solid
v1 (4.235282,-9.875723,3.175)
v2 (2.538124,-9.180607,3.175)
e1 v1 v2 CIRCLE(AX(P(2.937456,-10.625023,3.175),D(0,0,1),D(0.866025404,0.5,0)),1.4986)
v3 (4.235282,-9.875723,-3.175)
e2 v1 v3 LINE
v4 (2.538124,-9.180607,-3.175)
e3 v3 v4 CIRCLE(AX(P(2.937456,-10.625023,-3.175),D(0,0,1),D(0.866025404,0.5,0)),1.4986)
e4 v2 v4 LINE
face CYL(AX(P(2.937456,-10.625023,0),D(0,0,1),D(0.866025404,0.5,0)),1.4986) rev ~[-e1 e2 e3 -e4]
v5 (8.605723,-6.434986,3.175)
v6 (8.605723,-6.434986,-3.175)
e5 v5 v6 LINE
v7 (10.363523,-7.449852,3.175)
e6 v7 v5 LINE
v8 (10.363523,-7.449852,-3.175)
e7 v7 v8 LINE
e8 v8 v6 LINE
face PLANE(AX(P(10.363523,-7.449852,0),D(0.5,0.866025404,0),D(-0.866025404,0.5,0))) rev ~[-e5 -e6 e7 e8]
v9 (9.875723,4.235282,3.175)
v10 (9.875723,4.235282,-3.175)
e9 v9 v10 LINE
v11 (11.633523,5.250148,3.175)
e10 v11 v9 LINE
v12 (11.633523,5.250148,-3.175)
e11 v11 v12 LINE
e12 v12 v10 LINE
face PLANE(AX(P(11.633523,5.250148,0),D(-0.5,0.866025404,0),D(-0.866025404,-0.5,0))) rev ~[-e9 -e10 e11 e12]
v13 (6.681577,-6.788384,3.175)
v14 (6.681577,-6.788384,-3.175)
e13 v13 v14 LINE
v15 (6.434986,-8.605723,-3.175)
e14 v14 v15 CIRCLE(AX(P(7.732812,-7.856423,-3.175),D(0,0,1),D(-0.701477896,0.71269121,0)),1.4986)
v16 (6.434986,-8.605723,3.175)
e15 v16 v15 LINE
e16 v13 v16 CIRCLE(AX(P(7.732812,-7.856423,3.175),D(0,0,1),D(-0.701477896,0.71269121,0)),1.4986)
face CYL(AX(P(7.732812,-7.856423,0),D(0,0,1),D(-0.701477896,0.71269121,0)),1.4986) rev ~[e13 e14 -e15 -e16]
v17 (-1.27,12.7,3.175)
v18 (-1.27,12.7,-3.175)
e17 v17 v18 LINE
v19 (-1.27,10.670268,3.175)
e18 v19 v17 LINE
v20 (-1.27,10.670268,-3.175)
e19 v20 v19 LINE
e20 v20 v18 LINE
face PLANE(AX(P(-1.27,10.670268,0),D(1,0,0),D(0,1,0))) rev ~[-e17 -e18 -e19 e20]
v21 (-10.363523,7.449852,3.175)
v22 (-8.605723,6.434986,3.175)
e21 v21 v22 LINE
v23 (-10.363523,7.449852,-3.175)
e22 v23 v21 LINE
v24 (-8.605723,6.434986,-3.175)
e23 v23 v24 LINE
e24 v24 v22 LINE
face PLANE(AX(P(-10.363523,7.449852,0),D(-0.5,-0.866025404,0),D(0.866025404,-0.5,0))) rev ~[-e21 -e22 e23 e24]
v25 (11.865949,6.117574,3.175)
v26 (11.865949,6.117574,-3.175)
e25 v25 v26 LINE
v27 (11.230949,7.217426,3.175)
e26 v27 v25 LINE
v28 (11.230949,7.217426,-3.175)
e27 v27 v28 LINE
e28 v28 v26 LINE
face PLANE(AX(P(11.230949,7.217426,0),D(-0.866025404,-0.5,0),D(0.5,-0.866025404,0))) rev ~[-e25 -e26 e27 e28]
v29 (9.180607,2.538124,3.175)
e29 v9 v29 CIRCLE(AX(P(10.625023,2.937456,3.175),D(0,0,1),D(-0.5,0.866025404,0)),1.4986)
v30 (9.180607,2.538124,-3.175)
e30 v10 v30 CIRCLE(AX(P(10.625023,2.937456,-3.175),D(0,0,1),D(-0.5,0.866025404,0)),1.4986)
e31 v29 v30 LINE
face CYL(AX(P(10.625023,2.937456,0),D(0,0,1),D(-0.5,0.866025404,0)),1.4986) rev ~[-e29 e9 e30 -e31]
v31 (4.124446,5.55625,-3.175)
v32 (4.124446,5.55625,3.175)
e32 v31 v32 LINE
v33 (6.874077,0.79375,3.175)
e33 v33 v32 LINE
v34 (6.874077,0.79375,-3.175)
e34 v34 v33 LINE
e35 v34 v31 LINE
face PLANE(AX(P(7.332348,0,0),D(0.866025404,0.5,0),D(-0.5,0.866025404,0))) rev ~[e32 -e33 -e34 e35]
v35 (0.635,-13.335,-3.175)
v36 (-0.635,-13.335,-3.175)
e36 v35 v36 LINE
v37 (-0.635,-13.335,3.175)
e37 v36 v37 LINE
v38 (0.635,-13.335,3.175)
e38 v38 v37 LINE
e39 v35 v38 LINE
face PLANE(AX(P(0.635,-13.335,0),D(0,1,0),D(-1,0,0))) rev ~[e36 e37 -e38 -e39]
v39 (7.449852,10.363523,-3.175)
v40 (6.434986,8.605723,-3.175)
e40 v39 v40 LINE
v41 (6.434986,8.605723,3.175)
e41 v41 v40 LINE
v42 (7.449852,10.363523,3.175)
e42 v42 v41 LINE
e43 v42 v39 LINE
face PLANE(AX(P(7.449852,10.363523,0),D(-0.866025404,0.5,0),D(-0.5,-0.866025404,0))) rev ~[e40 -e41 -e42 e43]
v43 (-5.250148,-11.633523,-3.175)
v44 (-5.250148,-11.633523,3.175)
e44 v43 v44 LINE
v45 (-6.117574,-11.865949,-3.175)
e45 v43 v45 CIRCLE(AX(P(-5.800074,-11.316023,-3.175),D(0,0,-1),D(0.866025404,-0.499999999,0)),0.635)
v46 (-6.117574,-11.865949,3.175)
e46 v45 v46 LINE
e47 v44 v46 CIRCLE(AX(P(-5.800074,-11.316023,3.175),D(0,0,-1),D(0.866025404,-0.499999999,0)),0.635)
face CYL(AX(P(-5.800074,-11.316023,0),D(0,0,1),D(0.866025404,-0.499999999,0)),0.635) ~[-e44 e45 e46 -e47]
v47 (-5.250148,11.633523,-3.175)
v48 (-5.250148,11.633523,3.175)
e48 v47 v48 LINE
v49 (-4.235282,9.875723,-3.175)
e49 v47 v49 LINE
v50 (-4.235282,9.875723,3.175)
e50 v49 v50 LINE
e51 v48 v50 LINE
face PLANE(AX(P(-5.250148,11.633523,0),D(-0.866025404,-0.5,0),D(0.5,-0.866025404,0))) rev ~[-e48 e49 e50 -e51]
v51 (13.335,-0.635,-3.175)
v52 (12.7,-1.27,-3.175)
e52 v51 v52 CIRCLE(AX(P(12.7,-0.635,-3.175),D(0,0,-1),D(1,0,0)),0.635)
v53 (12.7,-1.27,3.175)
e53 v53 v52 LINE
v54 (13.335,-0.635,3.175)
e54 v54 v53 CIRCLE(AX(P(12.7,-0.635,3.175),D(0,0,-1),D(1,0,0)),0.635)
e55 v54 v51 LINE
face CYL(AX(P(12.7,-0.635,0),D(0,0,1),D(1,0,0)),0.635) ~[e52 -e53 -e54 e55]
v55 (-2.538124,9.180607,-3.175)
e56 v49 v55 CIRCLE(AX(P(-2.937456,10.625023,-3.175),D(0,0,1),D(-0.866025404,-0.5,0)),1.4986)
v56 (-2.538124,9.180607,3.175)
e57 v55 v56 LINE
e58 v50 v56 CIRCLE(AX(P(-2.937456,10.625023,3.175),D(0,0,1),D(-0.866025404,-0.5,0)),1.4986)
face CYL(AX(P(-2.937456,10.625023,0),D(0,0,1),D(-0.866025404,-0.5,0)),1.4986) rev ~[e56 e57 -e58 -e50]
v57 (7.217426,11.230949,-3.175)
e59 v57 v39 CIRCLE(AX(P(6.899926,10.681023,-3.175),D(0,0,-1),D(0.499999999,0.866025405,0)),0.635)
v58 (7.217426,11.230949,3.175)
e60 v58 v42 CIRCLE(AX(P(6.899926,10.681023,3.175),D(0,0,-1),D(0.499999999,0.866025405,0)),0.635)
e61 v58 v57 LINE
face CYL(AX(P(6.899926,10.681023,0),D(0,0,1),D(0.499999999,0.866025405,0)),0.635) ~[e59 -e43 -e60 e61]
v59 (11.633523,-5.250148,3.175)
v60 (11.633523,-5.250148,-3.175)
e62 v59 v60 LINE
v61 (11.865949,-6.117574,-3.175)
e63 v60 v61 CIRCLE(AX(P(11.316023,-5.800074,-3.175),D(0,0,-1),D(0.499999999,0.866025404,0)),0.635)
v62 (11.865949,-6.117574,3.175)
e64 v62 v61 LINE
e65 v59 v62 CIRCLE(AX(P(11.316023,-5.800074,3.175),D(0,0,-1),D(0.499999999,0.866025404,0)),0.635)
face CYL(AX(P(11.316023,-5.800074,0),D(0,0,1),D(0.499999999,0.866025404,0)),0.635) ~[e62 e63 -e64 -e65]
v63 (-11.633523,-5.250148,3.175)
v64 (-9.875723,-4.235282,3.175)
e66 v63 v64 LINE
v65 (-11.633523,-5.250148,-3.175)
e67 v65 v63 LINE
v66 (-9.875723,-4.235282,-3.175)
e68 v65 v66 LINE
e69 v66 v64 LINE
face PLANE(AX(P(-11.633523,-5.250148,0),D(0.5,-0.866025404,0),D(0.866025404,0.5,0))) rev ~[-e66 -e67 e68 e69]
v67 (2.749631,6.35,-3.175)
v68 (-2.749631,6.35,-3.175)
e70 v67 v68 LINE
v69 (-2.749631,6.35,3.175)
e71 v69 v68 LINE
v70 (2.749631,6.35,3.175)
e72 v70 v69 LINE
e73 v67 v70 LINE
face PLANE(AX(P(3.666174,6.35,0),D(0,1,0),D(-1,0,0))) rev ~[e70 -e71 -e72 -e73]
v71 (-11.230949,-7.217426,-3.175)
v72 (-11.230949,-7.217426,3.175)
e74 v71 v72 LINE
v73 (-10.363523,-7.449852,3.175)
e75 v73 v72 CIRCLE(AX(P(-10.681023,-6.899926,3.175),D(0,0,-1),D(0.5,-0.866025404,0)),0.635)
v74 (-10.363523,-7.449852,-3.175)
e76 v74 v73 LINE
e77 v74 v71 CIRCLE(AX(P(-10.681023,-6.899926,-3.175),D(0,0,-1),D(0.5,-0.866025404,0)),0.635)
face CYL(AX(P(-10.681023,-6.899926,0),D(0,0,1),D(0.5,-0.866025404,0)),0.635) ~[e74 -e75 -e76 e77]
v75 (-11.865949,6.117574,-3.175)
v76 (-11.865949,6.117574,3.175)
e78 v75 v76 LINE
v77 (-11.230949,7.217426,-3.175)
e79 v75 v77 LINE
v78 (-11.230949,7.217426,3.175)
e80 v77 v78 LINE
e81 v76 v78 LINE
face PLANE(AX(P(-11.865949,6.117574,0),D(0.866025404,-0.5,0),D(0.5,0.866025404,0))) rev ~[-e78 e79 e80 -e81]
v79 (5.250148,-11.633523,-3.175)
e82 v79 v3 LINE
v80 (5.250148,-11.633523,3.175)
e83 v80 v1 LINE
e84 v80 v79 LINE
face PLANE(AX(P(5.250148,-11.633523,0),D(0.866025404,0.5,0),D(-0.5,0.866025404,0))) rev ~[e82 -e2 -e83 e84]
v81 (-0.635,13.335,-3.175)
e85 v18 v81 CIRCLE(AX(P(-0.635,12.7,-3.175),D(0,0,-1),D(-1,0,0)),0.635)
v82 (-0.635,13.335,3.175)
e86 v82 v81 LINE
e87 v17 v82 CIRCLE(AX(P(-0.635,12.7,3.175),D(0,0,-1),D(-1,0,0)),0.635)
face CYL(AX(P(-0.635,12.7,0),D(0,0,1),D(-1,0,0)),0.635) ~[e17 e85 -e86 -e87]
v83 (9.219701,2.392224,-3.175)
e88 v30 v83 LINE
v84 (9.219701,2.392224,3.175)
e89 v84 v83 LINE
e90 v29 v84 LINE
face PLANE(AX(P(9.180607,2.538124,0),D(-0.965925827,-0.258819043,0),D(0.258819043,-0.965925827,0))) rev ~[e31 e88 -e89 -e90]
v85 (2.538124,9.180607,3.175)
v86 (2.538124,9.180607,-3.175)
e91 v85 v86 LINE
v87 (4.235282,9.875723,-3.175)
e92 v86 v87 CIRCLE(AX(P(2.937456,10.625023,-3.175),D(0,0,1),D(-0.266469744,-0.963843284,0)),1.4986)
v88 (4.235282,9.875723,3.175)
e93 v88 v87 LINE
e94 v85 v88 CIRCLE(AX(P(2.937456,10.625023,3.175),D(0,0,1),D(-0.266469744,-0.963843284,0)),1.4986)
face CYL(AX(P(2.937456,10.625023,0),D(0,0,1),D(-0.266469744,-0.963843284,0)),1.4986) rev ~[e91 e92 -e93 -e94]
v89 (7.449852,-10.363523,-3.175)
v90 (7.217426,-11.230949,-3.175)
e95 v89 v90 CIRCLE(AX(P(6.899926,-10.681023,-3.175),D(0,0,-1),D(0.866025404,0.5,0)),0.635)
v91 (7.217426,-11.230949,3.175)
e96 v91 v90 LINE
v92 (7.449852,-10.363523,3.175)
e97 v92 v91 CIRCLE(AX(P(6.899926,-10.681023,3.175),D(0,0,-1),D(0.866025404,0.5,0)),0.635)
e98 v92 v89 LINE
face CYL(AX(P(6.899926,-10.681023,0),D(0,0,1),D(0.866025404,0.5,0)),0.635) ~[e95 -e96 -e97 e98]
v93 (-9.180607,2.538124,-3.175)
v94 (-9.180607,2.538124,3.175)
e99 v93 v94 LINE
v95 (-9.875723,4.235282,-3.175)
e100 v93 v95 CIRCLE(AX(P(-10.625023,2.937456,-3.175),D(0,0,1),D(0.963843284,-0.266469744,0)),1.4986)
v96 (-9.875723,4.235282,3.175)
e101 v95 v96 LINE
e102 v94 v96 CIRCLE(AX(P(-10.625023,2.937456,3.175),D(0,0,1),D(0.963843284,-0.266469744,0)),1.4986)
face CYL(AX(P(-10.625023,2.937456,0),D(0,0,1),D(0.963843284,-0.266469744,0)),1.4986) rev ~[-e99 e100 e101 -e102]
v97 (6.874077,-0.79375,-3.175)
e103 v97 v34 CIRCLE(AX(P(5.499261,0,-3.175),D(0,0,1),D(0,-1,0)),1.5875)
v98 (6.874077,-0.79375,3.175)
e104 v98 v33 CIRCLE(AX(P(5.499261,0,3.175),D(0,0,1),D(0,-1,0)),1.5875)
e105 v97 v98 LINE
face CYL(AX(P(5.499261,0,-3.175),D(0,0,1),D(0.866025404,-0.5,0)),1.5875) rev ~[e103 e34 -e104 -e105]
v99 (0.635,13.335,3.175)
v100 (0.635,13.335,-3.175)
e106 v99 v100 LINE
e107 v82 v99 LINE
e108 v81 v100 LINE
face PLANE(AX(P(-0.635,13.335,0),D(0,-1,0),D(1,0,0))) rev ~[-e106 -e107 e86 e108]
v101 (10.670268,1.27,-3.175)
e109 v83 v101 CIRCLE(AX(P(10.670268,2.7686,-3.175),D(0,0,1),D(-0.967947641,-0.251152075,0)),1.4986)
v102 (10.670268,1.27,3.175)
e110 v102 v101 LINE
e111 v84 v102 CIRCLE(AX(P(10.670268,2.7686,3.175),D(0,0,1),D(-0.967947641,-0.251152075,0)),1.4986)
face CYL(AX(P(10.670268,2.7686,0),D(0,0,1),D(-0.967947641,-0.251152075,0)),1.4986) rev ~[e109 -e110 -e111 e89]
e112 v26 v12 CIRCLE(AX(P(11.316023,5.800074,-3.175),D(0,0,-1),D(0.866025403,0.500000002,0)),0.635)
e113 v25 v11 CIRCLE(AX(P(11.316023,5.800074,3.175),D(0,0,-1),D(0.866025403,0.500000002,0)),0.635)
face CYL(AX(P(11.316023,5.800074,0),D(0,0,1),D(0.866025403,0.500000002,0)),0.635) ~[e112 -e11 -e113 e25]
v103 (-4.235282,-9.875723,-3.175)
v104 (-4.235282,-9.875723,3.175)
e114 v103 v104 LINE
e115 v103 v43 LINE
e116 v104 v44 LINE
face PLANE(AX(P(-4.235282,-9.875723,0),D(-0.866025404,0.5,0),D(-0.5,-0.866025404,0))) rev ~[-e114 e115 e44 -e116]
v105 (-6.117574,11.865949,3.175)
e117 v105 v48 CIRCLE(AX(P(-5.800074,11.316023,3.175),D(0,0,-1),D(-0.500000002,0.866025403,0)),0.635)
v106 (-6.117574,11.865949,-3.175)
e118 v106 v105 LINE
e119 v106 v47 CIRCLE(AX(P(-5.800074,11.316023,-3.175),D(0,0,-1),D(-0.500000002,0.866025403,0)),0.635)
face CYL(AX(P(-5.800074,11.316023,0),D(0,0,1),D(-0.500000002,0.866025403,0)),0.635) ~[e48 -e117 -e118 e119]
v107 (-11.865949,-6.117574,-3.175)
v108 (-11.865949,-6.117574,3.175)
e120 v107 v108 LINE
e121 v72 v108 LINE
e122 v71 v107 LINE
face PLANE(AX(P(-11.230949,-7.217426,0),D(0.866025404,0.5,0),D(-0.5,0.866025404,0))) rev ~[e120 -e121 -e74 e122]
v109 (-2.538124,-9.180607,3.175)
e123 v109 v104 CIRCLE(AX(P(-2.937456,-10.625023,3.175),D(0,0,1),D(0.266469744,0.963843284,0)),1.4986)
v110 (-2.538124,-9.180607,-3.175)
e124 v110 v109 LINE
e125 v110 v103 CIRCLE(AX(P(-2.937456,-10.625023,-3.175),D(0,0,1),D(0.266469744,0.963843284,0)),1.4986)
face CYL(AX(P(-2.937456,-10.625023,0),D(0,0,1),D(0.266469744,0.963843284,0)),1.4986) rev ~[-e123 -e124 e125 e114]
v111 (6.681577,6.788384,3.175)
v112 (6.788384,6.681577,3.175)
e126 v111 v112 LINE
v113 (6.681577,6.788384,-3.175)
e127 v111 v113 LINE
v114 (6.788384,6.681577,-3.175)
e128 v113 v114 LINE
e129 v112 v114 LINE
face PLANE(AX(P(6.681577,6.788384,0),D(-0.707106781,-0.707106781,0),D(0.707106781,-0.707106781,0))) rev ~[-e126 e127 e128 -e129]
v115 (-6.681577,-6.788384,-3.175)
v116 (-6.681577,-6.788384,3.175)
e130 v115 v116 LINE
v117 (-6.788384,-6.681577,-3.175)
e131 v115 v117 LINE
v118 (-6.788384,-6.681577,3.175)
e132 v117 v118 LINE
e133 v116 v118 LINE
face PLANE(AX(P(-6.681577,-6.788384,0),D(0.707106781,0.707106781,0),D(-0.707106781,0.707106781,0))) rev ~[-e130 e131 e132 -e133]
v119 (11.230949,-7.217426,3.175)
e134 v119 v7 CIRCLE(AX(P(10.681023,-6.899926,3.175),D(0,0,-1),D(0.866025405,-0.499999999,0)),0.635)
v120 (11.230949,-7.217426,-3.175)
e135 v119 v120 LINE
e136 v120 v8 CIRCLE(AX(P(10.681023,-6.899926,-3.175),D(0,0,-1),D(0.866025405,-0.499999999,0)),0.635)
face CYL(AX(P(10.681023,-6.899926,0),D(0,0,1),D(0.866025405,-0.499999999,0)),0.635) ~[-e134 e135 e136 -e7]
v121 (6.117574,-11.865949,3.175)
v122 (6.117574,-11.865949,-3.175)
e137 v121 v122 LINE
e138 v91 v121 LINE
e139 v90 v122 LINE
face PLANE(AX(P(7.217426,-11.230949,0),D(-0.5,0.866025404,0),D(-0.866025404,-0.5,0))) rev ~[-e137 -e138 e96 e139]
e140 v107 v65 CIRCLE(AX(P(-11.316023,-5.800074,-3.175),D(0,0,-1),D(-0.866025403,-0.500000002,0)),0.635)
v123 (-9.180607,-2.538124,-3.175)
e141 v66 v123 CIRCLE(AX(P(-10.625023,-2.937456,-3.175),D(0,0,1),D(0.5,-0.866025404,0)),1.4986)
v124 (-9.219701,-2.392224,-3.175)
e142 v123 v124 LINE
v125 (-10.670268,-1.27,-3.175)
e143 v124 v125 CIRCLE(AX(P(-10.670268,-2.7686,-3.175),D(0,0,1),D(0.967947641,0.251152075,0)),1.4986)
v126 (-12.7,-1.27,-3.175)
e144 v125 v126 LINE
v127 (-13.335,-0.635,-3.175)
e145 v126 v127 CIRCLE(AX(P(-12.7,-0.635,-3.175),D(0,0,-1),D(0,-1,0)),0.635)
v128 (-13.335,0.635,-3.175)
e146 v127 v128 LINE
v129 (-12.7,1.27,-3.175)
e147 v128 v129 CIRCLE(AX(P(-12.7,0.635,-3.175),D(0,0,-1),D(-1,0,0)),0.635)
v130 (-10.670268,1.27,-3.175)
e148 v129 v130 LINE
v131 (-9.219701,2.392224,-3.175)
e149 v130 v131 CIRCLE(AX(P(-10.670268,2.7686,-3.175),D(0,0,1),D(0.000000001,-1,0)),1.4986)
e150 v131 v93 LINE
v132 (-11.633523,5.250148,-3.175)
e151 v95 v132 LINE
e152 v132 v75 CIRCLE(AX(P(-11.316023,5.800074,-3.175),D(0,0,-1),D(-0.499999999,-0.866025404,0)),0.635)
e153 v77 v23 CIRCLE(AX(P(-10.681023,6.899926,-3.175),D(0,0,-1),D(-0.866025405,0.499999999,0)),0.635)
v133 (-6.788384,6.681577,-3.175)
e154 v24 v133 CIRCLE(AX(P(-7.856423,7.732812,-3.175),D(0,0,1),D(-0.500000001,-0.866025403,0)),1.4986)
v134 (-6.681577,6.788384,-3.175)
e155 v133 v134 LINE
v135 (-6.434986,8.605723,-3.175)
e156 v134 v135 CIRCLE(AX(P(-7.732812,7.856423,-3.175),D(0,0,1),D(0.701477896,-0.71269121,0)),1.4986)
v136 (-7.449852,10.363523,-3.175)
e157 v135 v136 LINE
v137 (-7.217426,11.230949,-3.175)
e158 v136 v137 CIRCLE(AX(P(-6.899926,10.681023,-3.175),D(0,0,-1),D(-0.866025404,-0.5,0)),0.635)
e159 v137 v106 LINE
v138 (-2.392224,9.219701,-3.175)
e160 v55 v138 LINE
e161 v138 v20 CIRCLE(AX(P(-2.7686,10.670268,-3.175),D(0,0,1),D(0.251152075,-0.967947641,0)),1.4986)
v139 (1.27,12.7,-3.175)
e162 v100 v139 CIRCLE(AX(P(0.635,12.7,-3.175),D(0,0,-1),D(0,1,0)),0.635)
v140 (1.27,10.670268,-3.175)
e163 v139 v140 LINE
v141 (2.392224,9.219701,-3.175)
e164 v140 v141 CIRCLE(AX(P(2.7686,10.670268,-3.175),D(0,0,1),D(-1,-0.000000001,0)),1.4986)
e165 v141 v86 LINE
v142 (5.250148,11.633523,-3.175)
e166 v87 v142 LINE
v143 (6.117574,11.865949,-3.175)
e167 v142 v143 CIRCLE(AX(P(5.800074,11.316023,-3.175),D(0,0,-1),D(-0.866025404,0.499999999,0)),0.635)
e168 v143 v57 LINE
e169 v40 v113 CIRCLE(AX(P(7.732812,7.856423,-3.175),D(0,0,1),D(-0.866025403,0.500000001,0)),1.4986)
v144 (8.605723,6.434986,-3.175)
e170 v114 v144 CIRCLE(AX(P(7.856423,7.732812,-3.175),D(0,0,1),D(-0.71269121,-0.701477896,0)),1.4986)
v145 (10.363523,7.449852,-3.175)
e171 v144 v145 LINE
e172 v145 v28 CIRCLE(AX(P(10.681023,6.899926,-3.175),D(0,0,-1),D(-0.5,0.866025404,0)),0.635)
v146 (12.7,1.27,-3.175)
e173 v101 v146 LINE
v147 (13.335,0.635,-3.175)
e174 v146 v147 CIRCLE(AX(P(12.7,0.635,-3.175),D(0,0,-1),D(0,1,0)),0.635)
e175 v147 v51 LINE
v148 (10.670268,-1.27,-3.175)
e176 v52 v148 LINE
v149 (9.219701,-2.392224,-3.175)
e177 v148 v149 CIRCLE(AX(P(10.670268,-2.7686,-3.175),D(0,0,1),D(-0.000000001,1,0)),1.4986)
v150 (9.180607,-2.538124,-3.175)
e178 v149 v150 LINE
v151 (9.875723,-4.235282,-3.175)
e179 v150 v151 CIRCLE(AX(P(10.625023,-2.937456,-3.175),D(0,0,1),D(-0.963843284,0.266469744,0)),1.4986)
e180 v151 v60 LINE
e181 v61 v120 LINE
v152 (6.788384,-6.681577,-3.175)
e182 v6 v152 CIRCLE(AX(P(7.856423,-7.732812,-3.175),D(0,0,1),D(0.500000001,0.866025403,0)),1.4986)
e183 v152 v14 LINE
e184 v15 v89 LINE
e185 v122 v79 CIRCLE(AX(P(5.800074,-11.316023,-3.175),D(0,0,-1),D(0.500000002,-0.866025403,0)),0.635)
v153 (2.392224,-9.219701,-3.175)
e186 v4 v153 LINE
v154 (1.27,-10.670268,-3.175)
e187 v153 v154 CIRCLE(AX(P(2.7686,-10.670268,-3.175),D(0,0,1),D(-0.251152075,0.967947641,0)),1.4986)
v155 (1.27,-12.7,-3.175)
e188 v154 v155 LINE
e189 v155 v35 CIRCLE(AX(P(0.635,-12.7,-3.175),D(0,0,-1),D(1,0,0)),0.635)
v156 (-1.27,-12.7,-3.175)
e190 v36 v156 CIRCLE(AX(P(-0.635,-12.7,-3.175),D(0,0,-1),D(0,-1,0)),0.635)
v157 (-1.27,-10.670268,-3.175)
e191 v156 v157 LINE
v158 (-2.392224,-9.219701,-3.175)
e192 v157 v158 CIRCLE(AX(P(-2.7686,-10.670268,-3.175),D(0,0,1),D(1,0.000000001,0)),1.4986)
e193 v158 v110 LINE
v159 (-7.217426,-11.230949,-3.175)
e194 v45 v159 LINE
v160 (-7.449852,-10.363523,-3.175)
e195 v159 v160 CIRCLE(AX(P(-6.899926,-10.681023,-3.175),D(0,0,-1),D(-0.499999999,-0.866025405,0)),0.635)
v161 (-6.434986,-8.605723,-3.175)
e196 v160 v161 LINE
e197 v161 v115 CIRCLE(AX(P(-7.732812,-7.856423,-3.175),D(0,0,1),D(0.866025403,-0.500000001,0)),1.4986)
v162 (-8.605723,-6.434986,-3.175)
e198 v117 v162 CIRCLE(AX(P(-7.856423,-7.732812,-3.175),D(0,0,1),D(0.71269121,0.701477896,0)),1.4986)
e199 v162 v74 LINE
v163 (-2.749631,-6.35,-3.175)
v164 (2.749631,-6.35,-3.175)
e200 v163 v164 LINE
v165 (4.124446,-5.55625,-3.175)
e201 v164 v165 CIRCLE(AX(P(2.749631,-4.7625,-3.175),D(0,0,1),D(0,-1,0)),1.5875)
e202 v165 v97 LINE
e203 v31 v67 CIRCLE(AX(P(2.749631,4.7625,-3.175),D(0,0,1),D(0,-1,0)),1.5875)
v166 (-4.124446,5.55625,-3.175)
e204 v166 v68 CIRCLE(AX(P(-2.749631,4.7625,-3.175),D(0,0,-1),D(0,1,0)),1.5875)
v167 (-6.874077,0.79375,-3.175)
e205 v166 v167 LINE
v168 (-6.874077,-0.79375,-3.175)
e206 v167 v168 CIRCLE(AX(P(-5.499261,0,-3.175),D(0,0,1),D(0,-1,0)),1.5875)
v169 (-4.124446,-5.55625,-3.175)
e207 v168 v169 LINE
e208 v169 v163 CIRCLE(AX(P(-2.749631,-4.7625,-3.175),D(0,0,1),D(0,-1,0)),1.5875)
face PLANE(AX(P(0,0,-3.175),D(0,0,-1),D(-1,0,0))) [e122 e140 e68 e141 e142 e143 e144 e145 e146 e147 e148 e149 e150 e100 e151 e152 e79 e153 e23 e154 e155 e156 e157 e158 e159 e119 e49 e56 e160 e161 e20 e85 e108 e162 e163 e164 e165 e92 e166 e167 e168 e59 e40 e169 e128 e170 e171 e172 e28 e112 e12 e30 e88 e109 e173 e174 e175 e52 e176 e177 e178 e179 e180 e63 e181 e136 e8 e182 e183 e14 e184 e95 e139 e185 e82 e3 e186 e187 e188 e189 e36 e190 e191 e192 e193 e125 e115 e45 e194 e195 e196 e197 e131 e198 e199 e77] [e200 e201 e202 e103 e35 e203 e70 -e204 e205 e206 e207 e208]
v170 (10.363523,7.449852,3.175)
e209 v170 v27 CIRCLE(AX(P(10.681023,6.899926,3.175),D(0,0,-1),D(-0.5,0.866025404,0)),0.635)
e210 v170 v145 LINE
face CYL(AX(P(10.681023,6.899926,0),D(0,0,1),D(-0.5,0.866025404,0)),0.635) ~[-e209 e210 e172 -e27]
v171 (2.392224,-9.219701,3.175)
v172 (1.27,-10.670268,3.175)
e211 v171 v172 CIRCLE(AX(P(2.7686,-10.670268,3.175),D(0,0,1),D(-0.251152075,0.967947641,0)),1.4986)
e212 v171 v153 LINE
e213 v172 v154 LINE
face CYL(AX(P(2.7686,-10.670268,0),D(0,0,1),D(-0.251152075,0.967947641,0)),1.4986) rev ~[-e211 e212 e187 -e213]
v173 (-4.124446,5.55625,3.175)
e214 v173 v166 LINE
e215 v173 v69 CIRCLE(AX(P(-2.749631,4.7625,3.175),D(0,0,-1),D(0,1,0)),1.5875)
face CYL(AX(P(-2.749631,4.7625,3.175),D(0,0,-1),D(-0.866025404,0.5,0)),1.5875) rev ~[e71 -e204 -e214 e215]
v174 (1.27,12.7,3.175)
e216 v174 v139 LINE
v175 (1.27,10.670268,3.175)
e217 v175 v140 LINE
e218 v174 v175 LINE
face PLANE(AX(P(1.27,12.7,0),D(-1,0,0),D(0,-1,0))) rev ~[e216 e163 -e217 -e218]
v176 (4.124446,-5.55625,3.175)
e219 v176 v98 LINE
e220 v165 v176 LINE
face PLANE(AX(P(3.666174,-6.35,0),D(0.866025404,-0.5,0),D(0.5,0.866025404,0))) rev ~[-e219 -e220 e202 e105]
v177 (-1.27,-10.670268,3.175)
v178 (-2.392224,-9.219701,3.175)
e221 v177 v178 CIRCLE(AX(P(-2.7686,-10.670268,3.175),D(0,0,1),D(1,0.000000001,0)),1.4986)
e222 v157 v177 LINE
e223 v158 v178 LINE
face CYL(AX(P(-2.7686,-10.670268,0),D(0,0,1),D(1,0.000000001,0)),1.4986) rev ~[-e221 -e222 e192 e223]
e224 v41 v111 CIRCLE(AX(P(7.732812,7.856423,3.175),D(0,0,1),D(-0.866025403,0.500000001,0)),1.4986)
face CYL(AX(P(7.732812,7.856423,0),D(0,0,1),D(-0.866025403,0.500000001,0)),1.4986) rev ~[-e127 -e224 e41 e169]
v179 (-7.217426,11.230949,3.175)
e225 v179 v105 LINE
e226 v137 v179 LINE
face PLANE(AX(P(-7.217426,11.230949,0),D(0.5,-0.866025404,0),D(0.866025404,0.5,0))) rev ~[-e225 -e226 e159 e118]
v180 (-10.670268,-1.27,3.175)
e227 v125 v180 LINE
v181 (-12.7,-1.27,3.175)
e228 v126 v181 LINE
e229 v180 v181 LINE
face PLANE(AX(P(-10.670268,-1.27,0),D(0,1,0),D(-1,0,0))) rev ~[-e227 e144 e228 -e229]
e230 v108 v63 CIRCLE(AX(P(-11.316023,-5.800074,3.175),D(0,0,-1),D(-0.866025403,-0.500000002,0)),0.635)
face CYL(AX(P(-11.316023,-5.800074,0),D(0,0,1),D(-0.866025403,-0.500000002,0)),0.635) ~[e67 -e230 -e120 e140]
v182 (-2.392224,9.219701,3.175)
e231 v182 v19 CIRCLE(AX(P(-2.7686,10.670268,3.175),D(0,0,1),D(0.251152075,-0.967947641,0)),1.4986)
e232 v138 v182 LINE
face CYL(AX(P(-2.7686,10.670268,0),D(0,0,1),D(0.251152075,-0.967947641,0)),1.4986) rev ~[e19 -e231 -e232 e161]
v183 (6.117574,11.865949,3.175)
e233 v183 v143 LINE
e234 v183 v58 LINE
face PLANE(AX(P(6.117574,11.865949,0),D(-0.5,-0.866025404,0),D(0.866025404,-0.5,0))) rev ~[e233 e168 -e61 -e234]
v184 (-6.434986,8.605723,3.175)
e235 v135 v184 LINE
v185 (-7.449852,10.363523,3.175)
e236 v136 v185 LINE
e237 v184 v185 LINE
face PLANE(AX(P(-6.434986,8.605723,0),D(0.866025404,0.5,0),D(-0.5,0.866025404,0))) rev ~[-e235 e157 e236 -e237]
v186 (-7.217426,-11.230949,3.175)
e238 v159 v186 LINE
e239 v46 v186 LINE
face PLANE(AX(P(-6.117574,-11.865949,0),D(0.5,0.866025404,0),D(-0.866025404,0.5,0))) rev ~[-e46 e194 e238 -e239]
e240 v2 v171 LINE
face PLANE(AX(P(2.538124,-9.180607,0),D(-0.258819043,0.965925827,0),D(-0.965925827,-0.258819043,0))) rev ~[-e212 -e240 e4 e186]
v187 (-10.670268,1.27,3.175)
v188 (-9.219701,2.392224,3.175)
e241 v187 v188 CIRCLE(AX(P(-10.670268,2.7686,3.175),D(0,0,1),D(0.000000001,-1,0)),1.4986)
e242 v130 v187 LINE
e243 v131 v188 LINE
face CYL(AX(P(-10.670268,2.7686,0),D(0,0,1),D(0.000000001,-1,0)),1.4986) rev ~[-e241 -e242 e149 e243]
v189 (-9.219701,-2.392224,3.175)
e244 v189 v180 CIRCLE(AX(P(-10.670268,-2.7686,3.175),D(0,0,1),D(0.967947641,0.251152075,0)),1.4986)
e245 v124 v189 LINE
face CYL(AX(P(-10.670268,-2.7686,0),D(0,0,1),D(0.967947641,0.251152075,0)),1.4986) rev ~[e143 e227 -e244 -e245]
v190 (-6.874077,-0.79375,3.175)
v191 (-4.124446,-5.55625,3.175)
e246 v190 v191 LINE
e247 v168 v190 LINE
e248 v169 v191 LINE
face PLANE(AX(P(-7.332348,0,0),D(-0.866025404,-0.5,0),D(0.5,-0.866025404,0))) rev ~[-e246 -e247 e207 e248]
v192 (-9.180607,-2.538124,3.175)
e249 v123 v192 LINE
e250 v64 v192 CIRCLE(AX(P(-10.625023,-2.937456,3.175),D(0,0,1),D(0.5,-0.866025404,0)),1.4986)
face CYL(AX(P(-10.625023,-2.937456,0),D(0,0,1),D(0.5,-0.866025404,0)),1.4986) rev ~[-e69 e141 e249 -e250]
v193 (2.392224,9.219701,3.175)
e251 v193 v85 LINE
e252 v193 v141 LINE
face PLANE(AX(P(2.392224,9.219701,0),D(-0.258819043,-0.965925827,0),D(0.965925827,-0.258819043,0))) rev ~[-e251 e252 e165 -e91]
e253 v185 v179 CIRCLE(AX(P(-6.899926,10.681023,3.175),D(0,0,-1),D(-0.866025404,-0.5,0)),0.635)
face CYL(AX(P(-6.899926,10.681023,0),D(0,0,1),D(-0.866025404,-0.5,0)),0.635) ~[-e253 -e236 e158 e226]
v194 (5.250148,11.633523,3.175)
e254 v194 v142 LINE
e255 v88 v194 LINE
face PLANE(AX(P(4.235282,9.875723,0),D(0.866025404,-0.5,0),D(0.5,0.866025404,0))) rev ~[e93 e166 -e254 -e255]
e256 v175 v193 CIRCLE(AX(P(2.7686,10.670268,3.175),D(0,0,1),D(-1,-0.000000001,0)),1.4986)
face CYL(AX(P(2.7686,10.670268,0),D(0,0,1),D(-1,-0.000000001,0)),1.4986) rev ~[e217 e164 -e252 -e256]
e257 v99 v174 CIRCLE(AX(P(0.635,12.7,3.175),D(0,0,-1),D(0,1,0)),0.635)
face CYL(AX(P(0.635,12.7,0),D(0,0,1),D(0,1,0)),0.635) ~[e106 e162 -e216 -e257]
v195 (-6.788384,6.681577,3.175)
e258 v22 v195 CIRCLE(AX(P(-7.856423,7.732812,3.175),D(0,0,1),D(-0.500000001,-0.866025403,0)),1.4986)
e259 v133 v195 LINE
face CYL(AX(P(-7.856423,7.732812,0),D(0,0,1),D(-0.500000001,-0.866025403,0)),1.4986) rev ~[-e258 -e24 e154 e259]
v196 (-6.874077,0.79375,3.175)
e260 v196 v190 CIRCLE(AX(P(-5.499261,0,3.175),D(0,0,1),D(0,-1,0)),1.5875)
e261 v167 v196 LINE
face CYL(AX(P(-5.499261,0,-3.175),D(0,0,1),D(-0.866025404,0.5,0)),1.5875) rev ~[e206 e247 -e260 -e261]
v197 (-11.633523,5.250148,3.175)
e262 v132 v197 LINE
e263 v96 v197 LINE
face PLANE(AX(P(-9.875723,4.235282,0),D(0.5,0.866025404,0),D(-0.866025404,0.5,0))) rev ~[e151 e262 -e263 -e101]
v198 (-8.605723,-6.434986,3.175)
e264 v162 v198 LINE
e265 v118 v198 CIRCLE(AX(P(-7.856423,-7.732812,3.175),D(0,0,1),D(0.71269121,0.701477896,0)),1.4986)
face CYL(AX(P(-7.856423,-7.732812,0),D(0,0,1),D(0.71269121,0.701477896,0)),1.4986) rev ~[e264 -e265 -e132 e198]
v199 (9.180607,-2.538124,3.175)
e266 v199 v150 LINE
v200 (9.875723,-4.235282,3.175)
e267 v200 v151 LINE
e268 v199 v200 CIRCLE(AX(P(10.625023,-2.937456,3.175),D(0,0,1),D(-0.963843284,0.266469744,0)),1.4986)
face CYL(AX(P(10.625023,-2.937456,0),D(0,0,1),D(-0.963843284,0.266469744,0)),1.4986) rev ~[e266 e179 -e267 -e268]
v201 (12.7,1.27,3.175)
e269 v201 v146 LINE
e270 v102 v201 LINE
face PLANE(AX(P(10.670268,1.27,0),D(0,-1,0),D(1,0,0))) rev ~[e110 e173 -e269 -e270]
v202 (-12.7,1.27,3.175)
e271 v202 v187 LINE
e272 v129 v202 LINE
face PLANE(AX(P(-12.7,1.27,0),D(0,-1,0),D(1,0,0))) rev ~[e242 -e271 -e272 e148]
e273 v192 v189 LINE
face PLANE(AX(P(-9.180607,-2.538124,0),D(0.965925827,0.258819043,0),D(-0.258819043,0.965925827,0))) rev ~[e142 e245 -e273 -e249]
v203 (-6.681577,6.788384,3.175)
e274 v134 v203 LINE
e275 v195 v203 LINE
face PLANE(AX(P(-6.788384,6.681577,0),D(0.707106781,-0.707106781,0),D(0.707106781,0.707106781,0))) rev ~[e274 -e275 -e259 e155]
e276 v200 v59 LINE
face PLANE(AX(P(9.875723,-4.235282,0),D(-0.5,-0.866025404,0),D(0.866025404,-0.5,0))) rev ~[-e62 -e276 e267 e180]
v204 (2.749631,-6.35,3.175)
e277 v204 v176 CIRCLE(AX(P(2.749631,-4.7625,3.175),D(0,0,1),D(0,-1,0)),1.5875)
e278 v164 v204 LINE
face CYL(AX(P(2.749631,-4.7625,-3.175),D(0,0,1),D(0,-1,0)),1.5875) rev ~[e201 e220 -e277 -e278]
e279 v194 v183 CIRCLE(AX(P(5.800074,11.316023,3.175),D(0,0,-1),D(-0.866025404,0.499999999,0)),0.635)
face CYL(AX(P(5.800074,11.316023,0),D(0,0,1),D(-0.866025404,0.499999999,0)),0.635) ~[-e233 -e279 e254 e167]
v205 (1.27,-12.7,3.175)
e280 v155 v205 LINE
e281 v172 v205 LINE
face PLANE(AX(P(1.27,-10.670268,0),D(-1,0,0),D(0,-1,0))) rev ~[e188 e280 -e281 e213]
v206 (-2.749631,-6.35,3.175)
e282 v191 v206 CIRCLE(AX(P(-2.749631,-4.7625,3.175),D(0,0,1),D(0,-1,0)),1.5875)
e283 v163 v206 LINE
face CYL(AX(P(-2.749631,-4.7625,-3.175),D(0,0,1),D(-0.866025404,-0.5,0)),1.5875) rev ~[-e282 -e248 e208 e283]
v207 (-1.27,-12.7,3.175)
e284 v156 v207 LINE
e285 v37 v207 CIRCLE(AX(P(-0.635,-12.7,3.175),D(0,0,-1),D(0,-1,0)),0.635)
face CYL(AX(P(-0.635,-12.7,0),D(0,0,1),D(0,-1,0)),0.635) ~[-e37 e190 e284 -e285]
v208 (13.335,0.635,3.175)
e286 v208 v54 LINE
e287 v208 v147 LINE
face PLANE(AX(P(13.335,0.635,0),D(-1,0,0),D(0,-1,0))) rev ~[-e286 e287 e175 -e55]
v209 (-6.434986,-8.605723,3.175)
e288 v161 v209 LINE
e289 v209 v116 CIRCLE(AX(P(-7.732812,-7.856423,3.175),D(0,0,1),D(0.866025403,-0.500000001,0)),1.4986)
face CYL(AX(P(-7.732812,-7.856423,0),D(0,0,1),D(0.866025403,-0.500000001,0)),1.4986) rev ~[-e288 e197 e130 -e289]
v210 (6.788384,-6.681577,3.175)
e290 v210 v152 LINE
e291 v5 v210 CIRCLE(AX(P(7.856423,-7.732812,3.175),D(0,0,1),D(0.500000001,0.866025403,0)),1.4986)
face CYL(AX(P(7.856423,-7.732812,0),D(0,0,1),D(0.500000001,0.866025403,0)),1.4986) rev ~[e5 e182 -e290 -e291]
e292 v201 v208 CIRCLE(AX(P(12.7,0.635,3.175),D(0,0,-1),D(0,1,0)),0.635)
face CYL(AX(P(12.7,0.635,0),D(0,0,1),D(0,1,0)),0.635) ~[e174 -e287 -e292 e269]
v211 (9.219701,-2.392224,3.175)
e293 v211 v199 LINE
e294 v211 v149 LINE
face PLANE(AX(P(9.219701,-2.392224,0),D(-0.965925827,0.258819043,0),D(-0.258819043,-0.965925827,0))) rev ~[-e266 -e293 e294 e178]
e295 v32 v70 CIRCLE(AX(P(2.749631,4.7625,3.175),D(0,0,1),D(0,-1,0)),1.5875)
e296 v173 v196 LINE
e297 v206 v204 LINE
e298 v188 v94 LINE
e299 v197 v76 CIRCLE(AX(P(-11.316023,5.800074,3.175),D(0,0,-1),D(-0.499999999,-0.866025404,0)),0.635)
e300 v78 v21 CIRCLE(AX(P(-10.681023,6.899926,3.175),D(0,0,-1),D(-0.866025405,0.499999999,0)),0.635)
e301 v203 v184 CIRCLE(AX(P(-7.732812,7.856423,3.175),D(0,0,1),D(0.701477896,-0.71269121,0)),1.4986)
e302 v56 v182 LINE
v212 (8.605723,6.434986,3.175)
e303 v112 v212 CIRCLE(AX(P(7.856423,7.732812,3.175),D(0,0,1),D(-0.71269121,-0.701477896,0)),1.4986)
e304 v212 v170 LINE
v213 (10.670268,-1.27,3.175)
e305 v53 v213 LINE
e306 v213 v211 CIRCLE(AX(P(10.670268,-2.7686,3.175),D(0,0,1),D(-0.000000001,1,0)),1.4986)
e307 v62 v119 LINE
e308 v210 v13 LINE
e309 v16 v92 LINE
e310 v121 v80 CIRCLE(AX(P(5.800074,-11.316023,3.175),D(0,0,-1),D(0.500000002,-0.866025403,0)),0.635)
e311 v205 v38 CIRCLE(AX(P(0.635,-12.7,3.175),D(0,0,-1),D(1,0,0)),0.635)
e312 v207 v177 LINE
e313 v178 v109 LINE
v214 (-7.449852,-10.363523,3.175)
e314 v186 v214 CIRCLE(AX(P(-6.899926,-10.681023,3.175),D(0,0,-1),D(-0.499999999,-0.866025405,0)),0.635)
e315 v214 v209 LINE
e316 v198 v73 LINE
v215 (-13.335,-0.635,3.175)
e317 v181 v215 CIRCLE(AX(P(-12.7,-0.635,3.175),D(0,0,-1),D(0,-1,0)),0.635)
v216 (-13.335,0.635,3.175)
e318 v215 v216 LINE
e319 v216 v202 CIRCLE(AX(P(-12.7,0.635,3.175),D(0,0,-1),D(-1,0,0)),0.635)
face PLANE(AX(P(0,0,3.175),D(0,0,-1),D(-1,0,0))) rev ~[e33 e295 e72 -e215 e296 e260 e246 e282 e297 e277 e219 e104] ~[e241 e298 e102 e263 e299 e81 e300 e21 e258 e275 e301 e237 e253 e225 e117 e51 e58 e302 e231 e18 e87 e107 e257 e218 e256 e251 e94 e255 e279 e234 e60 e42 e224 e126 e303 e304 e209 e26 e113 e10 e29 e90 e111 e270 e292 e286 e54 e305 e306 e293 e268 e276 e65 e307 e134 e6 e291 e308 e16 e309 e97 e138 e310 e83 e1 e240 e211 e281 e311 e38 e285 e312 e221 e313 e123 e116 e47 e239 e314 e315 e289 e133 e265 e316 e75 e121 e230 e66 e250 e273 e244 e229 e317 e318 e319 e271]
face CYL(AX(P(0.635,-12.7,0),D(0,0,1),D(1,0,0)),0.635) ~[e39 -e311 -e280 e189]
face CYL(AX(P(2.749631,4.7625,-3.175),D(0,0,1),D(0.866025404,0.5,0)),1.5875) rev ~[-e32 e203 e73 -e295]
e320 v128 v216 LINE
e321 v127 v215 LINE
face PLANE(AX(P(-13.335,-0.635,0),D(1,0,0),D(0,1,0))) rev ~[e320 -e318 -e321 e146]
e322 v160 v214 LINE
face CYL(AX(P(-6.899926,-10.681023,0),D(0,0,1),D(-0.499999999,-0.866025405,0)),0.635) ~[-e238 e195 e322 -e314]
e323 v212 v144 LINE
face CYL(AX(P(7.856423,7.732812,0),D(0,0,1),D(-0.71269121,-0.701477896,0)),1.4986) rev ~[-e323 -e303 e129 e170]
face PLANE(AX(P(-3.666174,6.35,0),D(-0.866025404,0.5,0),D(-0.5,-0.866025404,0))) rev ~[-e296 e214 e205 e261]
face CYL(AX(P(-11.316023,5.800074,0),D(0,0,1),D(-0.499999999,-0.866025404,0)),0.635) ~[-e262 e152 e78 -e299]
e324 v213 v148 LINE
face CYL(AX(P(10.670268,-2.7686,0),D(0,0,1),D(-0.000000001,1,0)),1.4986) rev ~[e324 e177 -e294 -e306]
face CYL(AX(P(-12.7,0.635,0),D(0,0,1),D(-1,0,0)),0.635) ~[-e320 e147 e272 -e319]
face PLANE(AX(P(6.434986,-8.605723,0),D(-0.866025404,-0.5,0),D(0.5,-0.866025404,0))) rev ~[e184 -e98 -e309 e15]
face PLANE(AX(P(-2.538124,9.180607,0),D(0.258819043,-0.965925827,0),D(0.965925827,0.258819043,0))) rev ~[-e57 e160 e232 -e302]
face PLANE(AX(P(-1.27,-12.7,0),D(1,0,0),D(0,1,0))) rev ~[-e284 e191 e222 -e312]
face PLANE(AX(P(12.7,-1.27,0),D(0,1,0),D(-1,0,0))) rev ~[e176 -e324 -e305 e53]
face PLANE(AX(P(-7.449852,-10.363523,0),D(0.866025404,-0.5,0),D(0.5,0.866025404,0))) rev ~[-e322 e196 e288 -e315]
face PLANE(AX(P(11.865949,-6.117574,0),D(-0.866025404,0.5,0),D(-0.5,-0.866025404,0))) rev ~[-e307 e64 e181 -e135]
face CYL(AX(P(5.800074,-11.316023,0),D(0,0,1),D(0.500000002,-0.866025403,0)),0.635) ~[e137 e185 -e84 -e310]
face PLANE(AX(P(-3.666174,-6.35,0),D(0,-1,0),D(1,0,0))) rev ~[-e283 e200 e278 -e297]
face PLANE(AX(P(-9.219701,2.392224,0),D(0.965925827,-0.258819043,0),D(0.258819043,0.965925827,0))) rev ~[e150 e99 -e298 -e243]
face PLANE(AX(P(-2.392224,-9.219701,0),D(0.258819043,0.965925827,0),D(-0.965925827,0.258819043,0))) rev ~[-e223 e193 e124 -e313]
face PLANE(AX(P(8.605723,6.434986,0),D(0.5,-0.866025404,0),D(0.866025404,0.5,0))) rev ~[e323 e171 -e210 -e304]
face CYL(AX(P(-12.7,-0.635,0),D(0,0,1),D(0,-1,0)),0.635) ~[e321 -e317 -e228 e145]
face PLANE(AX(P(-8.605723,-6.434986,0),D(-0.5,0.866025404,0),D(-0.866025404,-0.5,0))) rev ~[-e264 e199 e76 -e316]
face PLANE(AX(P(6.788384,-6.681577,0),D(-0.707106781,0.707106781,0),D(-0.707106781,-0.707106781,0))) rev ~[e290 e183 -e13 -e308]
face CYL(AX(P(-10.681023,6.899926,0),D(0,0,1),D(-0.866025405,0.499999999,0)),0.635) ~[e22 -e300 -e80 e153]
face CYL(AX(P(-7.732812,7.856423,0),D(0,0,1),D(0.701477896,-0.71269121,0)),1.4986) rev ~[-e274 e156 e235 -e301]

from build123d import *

# Parameters (mm, degrees)
BOSS_EXTRUDE1_DEPTH = 3.175
FILLET1_R           = 1.5875


with BuildPart() as part:
    # Sketch1 → Boss-Extrude1 (new, symmetric)
    with BuildSketch(Plane.XY):
        with BuildLine():
            Line((-1.27, 10.670267616), (-1.27, 12.7))
            ThreePointArc((-1.27, 12.7), (-1.084012806, 13.149012806), (-0.635, 13.335))
            Line((-0.635, 13.335), (0.635, 13.335))
            ThreePointArc((0.635, 13.335), (1.084012806, 13.149012806), (1.27, 12.7))
            Line((1.27, 12.7), (1.27, 10.670267616))
            ThreePointArc((1.27, 10.670267616), (1.583306834, 9.753271395), (2.392223502, 9.219701281))
            Line((2.392223502, 9.219701281), (2.538124316, 9.180607276))
            ThreePointArc((2.538124316, 9.180607276), (3.505451757, 9.238234215), (4.235281545, 9.875722821))
            Line((4.235281545, 9.875722821), (5.250147737, 11.633522628))
            ThreePointArc((5.250147737, 11.633522628), (5.635723775, 11.929385528), (6.117573869, 11.865948759))
            Line((6.117573869, 11.865948759), (7.217426131, 11.230948759))
            ThreePointArc((7.217426131, 11.230948759), (7.513289031, 10.845372722), (7.449852263, 10.363522628))
            Line((7.449852263, 10.363522628), (6.434986071, 8.605722821))
            ThreePointArc((6.434986071, 8.605722821), (6.247819637, 7.654927381), (6.681576965, 6.788383774))
            Line((6.681576965, 6.788383774), (6.788383774, 6.681576965))
            ThreePointArc((6.788383774, 6.681576965), (7.654927381, 6.247819637), (8.605722821, 6.434986071))
            Line((8.605722821, 6.434986071), (10.363522628, 7.449852263))
            ThreePointArc((10.363522628, 7.449852263), (10.845372722, 7.513289031), (11.230948759, 7.217426131))
            Line((11.230948759, 7.217426131), (11.865948759, 6.117573869))
            ThreePointArc((11.865948759, 6.117573869), (11.929385528, 5.635723775), (11.633522628, 5.250147737))
            Line((11.633522628, 5.250147737), (9.875722821, 4.235281545))
            ThreePointArc((9.875722821, 4.235281545), (9.238234215, 3.505451757), (9.180607276, 2.538124316))
            Line((9.180607276, 2.538124316), (9.219701281, 2.392223502))
            ThreePointArc((9.219701281, 2.392223502), (9.753271395, 1.583306834), (10.670267616, 1.27))
            Line((10.670267616, 1.27), (12.7, 1.27))
            ThreePointArc((12.7, 1.27), (13.149012806, 1.084012806), (13.335, 0.635))
            Line((13.335, 0.635), (13.335, -0.635))
            ThreePointArc((13.335, -0.635), (13.149012806, -1.084012806), (12.7, -1.27))
            Line((12.7, -1.27), (10.670267616, -1.27))
            ThreePointArc((10.670267616, -1.27), (9.753271395, -1.583306834), (9.219701281, -2.392223502))
            Line((9.219701281, -2.392223502), (9.180607276, -2.538124316))
            ThreePointArc((9.180607276, -2.538124316), (9.238234215, -3.505451757), (9.875722821, -4.235281545))
            Line((9.875722821, -4.235281545), (11.633522628, -5.250147737))
            ThreePointArc((11.633522628, -5.250147737), (11.929385528, -5.635723775), (11.865948759, -6.117573869))
            Line((11.865948759, -6.117573869), (11.230948759, -7.217426131))
            ThreePointArc((11.230948759, -7.217426131), (10.845372722, -7.513289031), (10.363522628, -7.449852263))
            Line((10.363522628, -7.449852263), (8.605722821, -6.434986071))
            ThreePointArc((8.605722821, -6.434986071), (7.654927381, -6.247819637), (6.788383774, -6.681576965))
            Line((6.788383774, -6.681576965), (6.681576965, -6.788383774))
            ThreePointArc((6.681576965, -6.788383774), (6.247819637, -7.654927381), (6.434986071, -8.605722821))
            Line((6.434986071, -8.605722821), (7.449852263, -10.363522628))
            ThreePointArc((7.449852263, -10.363522628), (7.513289031, -10.845372722), (7.217426131, -11.230948759))
            Line((7.217426131, -11.230948759), (6.117573869, -11.865948759))
            ThreePointArc((6.117573869, -11.865948759), (5.635723775, -11.929385528), (5.250147737, -11.633522628))
            Line((5.250147737, -11.633522628), (4.235281545, -9.875722821))
            ThreePointArc((4.235281545, -9.875722821), (3.505451757, -9.238234215), (2.538124316, -9.180607276))
            Line((2.538124316, -9.180607276), (2.392223502, -9.219701281))
            ThreePointArc((2.392223502, -9.219701281), (1.583306834, -9.753271395), (1.27, -10.670267616))
            Line((1.27, -10.670267616), (1.27, -12.7))
            ThreePointArc((1.27, -12.7), (1.084012806, -13.149012806), (0.635, -13.335))
            Line((0.635, -13.335), (-0.635, -13.335))
            ThreePointArc((-0.635, -13.335), (-1.084012806, -13.149012806), (-1.27, -12.7))
            Line((-1.27, -12.7), (-1.27, -10.670267616))
            ThreePointArc((-1.27, -10.670267616), (-1.583306834, -9.753271395), (-2.392223502, -9.219701281))
            Line((-2.392223502, -9.219701281), (-2.538124316, -9.180607276))
            ThreePointArc((-2.538124316, -9.180607276), (-3.505451757, -9.238234215), (-4.235281545, -9.875722821))
            Line((-4.235281545, -9.875722821), (-5.250147737, -11.633522628))
            ThreePointArc((-5.250147737, -11.633522628), (-5.635723775, -11.929385528), (-6.117573869, -11.865948759))
            Line((-6.117573869, -11.865948759), (-7.217426131, -11.230948759))
            ThreePointArc((-7.217426131, -11.230948759), (-7.513289031, -10.845372722), (-7.449852263, -10.363522628))
            Line((-7.449852263, -10.363522628), (-6.434986071, -8.605722821))
            ThreePointArc((-6.434986071, -8.605722821), (-6.247819637, -7.654927381), (-6.681576965, -6.788383774))
            Line((-6.681576965, -6.788383774), (-6.788383774, -6.681576965))
            ThreePointArc((-6.788383774, -6.681576965), (-7.654927381, -6.247819637), (-8.605722821, -6.434986071))
            Line((-8.605722821, -6.434986071), (-10.363522628, -7.449852263))
            ThreePointArc((-10.363522628, -7.449852263), (-10.845372722, -7.513289031), (-11.230948759, -7.217426131))
            Line((-11.230948759, -7.217426131), (-11.865948759, -6.117573869))
            ThreePointArc((-11.865948759, -6.117573869), (-11.929385528, -5.635723775), (-11.633522628, -5.250147737))
            Line((-11.633522628, -5.250147737), (-9.875722821, -4.235281545))
            ThreePointArc((-9.875722821, -4.235281545), (-9.238234215, -3.505451757), (-9.180607276, -2.538124316))
            Line((-9.180607276, -2.538124316), (-9.219701281, -2.392223502))
            ThreePointArc((-9.219701281, -2.392223502), (-9.753271395, -1.583306834), (-10.670267616, -1.27))
            Line((-10.670267616, -1.27), (-12.7, -1.27))
            ThreePointArc((-12.7, -1.27), (-13.149012806, -1.084012806), (-13.335, -0.635))
            Line((-13.335, -0.635), (-13.335, 0.635))
            ThreePointArc((-13.335, 0.635), (-13.149012806, 1.084012806), (-12.7, 1.27))
            Line((-12.7, 1.27), (-10.670267616, 1.27))
            ThreePointArc((-10.670267616, 1.27), (-9.753271395, 1.583306834), (-9.219701281, 2.392223502))
            Line((-9.219701281, 2.392223502), (-9.180607276, 2.538124316))
            ThreePointArc((-9.180607276, 2.538124316), (-9.238234215, 3.505451757), (-9.875722821, 4.235281545))
            Line((-9.875722821, 4.235281545), (-11.633522628, 5.250147737))
            ThreePointArc((-11.633522628, 5.250147737), (-11.929385528, 5.635723775), (-11.865948759, 6.117573869))
            Line((-11.865948759, 6.117573869), (-11.230948759, 7.217426131))
            ThreePointArc((-11.230948759, 7.217426131), (-10.845372722, 7.513289031), (-10.363522628, 7.449852263))
            Line((-10.363522628, 7.449852263), (-8.605722821, 6.434986071))
            ThreePointArc((-8.605722821, 6.434986071), (-7.654927381, 6.247819637), (-6.788383774, 6.681576965))
            Line((-6.788383774, 6.681576965), (-6.681576965, 6.788383774))
            ThreePointArc((-6.681576965, 6.788383774), (-6.247819637, 7.654927381), (-6.434986071, 8.605722821))
            Line((-6.434986071, 8.605722821), (-7.449852263, 10.363522628))
            ThreePointArc((-7.449852263, 10.363522628), (-7.513289031, 10.845372722), (-7.217426131, 11.230948759))
            Line((-7.217426131, 11.230948759), (-6.117573869, 11.865948759))
            ThreePointArc((-6.117573869, 11.865948759), (-5.635723775, 11.929385528), (-5.250147737, 11.633522628))
            Line((-5.250147737, 11.633522628), (-4.235281545, 9.875722821))
            ThreePointArc((-4.235281545, 9.875722821), (-3.505451757, 9.238234215), (-2.538124316, 9.180607276))
            Line((-2.538124316, 9.180607276), (-2.392223502, 9.219701281))
            ThreePointArc((-2.392223502, 9.219701281), (-1.583306834, 9.753271395), (-1.27, 10.670267616))
        make_face()
        Polygon((-3.666174209, 6.35), (-7.332348419, 0), (-3.666174209, -6.35), (3.666174209, -6.35), (7.332348419, 0), (3.666174209, 6.35), align=None, mode=Mode.SUBTRACT)
    extrude(amount=BOSS_EXTRUDE1_DEPTH, both=True)

    # Fillet1
    fillet1_edges = [part.edges().sort_by_distance(p)[0] for p in [
        (-3.666174209, 6.35, 0),
        (-7.332348419, 0, 0),
        (-3.666174209, -6.35, 0),
        (3.666174209, -6.35, 0),
        (7.332348419, 0, 0),
        (3.666174209, 6.35, 0),
    ]]
    fillet(fillet1_edges, radius=FILLET1_R)


solid = part.part
